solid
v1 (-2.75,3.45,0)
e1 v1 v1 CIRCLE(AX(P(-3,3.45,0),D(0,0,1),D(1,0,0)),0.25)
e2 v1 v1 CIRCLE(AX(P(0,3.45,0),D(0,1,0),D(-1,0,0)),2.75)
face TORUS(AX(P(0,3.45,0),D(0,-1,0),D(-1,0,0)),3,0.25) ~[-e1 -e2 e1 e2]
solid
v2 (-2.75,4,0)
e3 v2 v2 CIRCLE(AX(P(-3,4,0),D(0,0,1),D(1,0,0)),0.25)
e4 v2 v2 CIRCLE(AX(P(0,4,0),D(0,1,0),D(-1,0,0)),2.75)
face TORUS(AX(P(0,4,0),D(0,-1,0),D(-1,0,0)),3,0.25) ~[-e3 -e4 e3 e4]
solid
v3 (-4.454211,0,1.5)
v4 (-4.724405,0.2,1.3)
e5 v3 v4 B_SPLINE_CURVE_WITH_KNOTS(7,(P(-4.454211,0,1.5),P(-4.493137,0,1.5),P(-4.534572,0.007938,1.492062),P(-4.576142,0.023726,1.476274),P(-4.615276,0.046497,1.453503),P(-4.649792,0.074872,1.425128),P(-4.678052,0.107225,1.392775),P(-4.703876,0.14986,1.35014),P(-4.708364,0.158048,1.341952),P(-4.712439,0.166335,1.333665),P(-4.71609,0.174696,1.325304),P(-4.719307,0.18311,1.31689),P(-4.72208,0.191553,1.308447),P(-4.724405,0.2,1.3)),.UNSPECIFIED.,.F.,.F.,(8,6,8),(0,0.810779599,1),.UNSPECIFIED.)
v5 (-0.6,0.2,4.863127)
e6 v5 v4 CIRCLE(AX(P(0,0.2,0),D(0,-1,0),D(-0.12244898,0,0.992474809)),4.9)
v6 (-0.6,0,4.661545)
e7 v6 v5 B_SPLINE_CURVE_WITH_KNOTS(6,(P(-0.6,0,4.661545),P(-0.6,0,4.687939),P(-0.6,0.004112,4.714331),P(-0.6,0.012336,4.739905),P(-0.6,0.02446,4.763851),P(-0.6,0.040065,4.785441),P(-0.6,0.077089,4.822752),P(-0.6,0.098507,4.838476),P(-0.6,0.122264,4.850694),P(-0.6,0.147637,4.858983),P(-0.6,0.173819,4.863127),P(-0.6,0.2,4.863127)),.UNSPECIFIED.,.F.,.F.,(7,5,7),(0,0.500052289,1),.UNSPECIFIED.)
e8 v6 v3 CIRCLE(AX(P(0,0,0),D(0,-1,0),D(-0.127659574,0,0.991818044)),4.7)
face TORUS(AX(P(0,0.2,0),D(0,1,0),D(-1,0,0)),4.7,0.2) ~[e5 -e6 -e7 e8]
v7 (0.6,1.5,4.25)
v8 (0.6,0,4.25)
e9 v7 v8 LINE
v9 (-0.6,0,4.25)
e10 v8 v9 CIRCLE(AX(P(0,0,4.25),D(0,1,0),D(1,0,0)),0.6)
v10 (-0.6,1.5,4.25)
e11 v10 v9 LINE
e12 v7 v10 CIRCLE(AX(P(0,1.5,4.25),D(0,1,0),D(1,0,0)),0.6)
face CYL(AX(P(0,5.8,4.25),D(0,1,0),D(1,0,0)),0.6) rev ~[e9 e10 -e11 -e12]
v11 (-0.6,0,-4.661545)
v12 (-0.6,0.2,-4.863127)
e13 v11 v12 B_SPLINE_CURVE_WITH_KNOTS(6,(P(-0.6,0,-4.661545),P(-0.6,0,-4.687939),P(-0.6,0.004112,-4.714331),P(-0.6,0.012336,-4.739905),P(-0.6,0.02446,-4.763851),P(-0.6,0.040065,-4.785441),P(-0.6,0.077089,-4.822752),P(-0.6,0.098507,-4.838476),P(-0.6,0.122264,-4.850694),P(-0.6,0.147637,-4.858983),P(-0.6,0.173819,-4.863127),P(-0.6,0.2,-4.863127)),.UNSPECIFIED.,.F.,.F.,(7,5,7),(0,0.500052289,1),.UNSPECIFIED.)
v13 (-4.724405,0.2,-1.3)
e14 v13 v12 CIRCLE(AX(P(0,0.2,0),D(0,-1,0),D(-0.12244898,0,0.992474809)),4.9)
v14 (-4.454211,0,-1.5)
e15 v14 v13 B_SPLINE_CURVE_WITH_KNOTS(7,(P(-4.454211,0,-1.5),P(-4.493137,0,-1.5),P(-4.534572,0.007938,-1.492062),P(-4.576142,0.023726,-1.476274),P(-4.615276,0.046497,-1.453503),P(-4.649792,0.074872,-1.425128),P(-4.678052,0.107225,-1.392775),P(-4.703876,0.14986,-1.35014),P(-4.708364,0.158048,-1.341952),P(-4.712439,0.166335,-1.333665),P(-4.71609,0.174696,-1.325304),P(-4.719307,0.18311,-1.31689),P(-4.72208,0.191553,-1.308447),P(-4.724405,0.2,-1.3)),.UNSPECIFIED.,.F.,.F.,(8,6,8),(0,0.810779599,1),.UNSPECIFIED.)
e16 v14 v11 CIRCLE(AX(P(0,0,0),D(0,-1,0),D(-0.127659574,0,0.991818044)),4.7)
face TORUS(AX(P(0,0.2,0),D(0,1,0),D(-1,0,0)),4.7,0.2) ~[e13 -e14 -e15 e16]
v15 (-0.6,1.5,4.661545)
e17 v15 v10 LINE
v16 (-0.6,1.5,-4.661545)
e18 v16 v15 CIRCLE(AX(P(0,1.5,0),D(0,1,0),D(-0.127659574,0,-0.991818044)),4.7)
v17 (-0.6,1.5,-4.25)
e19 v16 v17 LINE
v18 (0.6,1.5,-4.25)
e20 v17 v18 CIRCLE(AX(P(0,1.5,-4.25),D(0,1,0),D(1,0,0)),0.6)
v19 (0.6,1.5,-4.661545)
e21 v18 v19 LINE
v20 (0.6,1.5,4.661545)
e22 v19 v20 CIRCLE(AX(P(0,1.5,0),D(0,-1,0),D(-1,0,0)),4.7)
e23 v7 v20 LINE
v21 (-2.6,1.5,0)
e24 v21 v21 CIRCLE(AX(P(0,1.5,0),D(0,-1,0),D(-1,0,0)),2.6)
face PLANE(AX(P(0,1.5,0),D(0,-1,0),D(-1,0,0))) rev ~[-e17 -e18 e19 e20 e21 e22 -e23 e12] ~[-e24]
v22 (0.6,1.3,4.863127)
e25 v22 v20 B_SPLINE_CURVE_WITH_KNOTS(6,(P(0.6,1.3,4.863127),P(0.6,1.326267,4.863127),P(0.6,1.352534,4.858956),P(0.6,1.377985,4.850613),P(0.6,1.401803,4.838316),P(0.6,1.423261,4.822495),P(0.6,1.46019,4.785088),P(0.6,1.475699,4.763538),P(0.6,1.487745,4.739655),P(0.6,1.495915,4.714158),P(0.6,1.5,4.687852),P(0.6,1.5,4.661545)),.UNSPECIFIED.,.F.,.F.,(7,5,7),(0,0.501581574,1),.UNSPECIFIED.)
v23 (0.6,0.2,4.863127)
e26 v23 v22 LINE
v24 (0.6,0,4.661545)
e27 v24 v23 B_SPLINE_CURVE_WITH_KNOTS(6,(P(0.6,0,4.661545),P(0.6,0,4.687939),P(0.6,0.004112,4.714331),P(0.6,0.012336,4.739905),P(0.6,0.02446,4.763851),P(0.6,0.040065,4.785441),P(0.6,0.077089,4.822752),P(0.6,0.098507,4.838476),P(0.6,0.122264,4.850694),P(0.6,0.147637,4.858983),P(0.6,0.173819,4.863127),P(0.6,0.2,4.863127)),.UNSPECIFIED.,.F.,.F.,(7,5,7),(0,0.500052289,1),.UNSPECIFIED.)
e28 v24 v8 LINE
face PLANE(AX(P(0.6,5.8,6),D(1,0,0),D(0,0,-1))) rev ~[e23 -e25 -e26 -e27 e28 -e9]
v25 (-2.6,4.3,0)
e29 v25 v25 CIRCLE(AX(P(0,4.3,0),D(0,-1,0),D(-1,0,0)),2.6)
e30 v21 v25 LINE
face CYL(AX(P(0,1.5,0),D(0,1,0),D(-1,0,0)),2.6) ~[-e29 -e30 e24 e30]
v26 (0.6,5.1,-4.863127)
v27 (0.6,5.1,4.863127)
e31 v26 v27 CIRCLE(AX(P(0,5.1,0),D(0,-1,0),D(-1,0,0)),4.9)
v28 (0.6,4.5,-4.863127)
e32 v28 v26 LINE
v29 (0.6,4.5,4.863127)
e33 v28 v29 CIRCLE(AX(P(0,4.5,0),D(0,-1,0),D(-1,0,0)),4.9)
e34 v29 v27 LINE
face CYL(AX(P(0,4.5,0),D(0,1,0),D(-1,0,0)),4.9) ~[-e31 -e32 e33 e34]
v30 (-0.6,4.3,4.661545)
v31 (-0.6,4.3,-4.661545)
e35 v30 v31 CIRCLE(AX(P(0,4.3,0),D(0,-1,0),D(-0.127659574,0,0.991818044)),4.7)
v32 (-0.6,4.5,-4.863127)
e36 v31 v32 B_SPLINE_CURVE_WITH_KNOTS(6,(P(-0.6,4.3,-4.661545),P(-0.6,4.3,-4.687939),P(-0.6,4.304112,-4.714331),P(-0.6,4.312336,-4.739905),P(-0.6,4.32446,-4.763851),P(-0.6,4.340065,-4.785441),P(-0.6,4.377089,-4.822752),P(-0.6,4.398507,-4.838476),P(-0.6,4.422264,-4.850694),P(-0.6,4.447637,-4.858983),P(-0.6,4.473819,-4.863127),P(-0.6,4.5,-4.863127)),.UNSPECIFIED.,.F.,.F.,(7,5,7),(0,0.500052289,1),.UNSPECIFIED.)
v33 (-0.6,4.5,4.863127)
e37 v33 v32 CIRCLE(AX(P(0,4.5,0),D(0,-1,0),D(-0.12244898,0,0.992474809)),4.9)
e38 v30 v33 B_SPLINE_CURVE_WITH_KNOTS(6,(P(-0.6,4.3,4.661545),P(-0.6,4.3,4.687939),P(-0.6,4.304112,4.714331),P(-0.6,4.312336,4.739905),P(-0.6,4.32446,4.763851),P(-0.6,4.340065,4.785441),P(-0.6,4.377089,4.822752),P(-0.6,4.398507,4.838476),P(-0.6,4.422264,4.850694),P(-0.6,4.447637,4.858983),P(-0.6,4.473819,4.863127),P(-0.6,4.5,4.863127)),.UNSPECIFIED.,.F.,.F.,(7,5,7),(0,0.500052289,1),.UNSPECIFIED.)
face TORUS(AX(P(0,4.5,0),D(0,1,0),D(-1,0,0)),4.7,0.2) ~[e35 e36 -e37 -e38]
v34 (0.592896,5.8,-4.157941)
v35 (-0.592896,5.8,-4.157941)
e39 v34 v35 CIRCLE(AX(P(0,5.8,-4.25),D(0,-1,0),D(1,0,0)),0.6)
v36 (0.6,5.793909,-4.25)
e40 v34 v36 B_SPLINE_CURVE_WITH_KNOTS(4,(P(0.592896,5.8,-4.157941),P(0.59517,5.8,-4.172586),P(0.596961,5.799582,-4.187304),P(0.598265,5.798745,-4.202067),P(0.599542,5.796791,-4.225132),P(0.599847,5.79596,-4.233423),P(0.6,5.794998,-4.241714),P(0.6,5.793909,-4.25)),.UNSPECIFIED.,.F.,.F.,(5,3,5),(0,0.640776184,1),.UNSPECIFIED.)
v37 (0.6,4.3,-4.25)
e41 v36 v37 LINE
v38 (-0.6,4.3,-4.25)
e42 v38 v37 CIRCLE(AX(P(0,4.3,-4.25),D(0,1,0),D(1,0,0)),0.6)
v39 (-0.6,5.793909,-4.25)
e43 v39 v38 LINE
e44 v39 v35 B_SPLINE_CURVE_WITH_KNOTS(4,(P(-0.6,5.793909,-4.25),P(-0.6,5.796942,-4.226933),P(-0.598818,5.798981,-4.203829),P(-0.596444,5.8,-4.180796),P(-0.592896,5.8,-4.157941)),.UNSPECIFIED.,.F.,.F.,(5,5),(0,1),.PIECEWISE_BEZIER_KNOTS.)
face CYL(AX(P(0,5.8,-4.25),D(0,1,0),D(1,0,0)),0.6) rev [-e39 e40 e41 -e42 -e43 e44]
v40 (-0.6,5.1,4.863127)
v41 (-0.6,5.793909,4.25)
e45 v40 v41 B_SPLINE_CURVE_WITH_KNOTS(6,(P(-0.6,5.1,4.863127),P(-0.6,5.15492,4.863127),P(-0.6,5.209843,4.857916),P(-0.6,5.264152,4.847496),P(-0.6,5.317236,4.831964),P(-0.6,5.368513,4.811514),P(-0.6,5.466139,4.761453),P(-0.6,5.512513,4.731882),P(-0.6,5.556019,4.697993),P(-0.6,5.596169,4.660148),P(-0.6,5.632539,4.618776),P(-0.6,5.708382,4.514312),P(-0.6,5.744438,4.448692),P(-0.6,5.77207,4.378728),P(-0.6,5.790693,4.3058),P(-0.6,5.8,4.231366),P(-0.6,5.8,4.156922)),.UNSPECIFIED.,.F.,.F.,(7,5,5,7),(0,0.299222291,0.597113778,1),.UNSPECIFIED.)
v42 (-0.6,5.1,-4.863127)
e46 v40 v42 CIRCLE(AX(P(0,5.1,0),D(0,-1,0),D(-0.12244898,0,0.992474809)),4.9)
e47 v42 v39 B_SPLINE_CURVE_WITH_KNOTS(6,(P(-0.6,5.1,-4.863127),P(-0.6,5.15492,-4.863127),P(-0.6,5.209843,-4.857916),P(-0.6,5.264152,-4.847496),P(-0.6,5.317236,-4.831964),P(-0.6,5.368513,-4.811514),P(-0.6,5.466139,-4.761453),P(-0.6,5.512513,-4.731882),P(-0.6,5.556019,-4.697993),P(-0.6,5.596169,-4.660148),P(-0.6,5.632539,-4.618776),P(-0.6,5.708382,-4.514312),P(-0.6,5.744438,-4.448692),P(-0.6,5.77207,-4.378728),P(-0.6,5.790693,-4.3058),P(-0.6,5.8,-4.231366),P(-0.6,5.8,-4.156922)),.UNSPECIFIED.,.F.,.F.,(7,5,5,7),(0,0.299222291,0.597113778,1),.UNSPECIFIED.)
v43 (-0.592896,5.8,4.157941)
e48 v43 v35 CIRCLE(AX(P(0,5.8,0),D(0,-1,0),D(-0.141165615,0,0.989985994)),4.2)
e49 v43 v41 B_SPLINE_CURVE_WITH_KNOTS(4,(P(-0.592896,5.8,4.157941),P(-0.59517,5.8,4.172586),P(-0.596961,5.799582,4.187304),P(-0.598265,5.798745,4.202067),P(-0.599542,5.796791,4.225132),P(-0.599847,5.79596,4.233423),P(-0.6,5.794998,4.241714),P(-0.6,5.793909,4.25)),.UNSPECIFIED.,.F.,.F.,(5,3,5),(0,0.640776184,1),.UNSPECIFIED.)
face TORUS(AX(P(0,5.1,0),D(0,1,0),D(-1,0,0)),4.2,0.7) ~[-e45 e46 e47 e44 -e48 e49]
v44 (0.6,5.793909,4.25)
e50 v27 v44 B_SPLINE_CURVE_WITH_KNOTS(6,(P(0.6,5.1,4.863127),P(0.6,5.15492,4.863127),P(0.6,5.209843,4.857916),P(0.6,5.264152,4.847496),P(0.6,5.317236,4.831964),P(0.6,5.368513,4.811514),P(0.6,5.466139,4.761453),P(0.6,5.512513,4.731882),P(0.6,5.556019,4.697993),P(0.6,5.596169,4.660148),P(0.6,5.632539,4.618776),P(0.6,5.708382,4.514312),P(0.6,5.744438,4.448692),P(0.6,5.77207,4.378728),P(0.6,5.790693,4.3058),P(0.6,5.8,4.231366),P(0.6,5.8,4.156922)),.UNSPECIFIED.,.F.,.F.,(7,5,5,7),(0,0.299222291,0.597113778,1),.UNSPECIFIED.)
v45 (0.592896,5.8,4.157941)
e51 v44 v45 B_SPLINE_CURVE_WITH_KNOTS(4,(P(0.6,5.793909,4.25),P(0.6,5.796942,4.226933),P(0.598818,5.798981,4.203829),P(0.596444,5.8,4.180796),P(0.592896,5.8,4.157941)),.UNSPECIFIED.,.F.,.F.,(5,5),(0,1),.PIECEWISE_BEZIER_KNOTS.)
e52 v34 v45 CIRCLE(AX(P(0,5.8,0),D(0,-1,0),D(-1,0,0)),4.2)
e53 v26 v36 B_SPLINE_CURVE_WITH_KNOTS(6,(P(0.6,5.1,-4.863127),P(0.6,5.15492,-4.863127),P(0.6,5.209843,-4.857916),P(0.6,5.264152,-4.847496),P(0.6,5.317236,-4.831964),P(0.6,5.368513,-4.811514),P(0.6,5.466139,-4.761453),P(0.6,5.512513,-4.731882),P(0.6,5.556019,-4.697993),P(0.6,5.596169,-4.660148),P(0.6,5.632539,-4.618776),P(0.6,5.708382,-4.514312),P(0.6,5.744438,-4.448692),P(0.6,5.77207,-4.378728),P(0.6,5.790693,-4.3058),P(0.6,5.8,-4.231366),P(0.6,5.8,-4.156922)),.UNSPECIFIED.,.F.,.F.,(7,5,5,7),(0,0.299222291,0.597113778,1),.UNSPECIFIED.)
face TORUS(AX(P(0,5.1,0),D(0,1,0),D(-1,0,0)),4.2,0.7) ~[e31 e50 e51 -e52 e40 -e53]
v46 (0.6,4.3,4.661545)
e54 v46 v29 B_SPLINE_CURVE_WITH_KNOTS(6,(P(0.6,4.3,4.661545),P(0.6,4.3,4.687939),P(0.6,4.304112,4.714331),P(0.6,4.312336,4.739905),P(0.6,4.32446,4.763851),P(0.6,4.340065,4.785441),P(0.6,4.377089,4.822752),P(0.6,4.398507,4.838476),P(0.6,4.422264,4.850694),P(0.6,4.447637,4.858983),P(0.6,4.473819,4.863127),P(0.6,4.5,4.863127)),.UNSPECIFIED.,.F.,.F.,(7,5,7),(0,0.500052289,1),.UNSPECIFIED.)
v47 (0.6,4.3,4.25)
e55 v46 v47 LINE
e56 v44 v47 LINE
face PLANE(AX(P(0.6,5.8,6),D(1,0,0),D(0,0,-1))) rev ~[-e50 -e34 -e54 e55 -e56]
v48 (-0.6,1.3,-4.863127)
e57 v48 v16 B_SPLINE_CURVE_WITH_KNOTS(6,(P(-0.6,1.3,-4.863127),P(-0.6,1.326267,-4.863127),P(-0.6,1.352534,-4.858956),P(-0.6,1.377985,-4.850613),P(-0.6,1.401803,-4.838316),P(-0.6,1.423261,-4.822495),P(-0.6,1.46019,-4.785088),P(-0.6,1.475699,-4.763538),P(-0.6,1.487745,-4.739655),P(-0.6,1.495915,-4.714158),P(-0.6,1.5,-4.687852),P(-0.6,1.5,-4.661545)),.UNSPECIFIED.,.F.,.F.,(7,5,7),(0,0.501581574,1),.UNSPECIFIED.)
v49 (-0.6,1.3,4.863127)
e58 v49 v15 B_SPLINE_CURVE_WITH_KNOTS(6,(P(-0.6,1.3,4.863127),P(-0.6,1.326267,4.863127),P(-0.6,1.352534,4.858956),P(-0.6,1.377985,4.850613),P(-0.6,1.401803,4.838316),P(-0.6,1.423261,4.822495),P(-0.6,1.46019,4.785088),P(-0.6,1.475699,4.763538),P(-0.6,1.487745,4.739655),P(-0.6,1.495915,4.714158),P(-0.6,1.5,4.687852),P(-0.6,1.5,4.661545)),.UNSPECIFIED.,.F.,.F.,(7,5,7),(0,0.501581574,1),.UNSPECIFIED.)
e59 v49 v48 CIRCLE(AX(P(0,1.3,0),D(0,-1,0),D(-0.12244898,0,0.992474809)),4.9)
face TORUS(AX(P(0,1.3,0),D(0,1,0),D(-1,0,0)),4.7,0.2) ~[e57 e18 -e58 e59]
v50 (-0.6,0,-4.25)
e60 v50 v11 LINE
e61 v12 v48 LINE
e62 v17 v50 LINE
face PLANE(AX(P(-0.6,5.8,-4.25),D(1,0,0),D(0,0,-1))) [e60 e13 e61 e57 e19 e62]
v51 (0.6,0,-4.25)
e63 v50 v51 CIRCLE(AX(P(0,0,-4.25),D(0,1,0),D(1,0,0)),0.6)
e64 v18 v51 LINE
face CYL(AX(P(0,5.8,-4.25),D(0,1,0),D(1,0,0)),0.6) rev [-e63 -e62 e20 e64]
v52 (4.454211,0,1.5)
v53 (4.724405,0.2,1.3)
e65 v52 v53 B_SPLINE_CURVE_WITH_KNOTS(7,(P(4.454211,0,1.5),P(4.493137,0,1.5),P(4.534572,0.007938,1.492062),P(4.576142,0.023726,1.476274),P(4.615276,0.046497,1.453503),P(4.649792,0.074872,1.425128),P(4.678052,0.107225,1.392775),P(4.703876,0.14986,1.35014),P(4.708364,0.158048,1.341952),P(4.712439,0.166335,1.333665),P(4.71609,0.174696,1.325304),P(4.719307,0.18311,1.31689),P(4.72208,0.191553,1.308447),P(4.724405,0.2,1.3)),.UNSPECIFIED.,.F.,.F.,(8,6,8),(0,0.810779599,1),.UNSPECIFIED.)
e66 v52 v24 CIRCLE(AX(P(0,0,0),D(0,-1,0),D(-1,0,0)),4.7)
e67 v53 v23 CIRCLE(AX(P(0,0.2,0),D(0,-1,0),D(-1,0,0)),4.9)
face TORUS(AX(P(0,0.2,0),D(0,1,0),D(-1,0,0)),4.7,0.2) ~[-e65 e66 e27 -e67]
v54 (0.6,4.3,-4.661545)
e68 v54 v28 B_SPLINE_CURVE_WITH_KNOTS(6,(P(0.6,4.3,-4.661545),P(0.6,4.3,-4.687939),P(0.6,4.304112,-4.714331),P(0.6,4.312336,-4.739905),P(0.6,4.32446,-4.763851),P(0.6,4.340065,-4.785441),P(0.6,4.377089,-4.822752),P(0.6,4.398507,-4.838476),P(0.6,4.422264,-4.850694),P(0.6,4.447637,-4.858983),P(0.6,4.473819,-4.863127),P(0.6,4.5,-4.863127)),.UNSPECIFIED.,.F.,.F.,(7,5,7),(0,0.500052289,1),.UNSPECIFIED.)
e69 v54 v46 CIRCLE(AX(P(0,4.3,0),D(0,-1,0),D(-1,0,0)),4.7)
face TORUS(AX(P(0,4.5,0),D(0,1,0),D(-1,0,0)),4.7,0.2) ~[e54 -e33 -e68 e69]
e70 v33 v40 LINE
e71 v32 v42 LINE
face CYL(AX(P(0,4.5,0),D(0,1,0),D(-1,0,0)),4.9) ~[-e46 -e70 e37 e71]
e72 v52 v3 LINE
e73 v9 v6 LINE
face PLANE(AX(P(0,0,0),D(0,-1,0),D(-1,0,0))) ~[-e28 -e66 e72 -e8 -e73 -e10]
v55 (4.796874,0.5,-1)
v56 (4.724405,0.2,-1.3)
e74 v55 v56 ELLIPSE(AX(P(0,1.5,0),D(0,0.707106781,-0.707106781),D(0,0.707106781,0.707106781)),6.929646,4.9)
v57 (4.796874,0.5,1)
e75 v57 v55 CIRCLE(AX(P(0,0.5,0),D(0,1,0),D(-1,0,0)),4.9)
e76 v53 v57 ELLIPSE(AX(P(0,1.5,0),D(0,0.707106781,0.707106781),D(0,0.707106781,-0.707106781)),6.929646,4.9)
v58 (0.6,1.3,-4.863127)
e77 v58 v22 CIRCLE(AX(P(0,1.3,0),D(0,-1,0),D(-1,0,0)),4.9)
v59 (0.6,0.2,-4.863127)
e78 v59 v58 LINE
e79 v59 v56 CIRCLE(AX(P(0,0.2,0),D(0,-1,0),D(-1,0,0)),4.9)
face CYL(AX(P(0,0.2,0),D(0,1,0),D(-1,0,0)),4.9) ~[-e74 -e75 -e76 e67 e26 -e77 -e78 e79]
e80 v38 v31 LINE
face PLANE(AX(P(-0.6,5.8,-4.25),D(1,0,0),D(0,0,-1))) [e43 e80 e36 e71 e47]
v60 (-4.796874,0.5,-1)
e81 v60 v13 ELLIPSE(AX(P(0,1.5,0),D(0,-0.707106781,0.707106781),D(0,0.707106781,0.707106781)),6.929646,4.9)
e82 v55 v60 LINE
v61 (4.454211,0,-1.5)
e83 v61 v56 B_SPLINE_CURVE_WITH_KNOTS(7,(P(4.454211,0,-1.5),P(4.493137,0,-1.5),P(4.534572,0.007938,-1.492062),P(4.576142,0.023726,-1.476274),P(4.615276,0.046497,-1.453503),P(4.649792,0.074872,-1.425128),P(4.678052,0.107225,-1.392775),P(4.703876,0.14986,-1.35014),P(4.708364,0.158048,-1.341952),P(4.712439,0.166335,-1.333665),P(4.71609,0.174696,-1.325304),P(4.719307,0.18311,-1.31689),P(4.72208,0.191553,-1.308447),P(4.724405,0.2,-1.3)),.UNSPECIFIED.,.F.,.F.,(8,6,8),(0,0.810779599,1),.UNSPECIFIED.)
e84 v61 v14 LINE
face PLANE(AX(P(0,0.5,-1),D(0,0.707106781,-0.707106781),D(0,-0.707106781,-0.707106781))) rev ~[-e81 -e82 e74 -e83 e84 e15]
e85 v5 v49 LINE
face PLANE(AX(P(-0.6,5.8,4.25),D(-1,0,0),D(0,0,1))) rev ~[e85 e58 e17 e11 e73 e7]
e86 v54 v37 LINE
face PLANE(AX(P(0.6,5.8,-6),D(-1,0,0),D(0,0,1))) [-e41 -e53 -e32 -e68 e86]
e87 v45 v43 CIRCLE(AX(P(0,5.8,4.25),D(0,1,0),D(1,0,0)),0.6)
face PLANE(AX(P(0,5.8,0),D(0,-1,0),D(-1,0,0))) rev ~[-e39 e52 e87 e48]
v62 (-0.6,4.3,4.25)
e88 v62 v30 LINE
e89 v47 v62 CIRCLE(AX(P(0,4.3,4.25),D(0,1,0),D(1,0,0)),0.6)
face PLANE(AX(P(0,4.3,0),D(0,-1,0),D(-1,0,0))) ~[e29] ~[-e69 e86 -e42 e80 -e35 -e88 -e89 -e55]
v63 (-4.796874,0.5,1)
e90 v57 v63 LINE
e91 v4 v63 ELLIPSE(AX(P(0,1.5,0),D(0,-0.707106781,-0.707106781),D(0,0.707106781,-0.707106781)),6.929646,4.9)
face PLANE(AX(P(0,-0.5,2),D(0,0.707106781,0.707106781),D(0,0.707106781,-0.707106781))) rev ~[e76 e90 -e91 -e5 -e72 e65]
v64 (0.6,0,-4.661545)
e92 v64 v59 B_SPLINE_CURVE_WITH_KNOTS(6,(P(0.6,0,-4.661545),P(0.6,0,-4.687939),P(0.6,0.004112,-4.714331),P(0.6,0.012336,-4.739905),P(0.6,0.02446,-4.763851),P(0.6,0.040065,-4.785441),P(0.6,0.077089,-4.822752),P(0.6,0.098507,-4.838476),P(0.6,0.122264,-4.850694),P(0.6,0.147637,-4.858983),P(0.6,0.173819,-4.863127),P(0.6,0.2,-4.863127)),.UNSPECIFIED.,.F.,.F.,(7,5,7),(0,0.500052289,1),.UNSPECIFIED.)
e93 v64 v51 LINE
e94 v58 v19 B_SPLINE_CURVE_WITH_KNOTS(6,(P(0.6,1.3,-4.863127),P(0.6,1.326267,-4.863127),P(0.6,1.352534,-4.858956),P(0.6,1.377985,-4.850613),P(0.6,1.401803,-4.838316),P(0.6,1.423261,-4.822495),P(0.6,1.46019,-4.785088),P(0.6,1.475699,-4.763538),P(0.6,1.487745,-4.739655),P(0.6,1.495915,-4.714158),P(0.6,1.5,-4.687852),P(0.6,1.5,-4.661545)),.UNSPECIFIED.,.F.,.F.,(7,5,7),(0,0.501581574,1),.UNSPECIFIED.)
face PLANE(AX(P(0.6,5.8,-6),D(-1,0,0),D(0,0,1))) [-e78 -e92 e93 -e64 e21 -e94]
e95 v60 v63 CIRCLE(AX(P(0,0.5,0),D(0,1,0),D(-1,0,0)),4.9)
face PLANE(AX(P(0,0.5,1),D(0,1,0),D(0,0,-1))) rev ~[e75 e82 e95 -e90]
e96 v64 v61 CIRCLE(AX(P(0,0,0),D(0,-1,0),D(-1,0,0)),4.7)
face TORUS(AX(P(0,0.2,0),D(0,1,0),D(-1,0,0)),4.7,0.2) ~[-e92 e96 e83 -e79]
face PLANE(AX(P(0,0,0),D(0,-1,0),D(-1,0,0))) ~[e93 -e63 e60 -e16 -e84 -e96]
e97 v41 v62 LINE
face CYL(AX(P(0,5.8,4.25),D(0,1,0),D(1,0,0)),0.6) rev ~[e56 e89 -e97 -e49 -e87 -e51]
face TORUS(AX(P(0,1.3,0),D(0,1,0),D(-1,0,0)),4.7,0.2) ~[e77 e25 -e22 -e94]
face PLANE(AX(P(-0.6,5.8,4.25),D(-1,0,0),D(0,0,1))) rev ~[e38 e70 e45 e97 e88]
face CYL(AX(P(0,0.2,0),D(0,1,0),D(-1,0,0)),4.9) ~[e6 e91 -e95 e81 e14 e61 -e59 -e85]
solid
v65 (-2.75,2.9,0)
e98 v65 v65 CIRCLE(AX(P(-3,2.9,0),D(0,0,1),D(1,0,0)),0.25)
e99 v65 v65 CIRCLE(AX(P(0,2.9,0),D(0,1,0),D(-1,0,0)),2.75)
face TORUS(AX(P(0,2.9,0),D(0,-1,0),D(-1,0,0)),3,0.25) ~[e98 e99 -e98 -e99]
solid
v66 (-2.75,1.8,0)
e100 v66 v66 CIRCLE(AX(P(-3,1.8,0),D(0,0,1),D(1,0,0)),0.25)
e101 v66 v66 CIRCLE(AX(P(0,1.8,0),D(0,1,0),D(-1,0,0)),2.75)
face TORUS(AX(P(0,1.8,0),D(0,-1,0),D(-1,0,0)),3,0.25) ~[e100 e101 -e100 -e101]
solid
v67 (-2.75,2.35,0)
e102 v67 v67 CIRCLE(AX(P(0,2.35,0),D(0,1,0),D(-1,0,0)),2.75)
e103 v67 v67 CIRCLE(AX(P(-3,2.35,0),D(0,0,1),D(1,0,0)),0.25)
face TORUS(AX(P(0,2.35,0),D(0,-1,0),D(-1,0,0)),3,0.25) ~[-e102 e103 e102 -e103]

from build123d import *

# Parameters (mm, degrees)
CUT_EXTRUDE1_DEPTH      = 6.8
SKETCH3_R               = 0.25
CUT_EXTRUDE2_DEPTH      = 5.9000001
CUT_EXTRUDE2_DEPTH_BACK = 12


with BuildPart() as part:
    # Sketch1 → Revolve1 (revolve)
    with BuildSketch(Plane.XY):
        with BuildLine():
            Line((0, 0), (-4.7, 0))
            ThreePointArc((-4.7, 0), (-4.841421356, 0.058578644), (-4.9, 0.2))
            Line((-4.9, 0.2), (-4.9, 1.3))
            ThreePointArc((-4.9, 1.3), (-4.841421356, 1.441421356), (-4.7, 1.5))
            Line((-4.7, 1.5), (-2.6, 1.5))
            Line((-2.6, 1.5), (-2.6, 4.3))
            Line((-2.6, 4.3), (-4.7, 4.3))
            ThreePointArc((-4.7, 4.3), (-4.841421356, 4.358578644), (-4.9, 4.5))
            Line((-4.9, 4.5), (-4.9, 5.1))
            ThreePointArc((-4.9, 5.1), (-4.694974747, 5.594974747), (-4.2, 5.8))
            Line((-4.2, 5.8), (0, 5.8))
            Line((0, 5.8), (0, 0))
        make_face()
    revolve(axis=Axis((0, 5.8, 0), (0, -1, 0)))

    # Sketch2 → Cut-Extrude1 (cut, through all)
    with BuildSketch(Plane(origin=(0, 5.8, 0), x_dir=(1, 0, 0), z_dir=(0, 1, 0))):
        with BuildLine():
            Line((-0.6, 6), (0.6, 6))
            Line((0.6, 6), (0.6, 4.25))
            ThreePointArc((0.6, 4.25), (0, 3.65), (-0.6, 4.25))
            Line((-0.6, 4.25), (-0.6, 6))
        make_face()
        with BuildLine():
            Line((-0.6, -6), (0.6, -6))
            Line((0.6, -6), (0.6, -4.25))
            ThreePointArc((0.6, -4.25), (0, -3.65), (-0.6, -4.25))
            Line((-0.6, -4.25), (-0.6, -6))
        make_face()
    extrude(amount=-CUT_EXTRUDE1_DEPTH, mode=Mode.SUBTRACT)

    # Sketch4 → Cut-Extrude2 (cut, two sides)
    with BuildSketch(Plane(origin=(0, 0, 0), x_dir=(0, 0, -1), z_dir=(1, 0, 0))) as cut_extrude2_sk:
        Polygon((-2, -0.5), (-1, 0.5), (1, 0.5), (2, -0.5), align=None)
    extrude(amount=CUT_EXTRUDE2_DEPTH, mode=Mode.SUBTRACT)
    extrude(cut_extrude2_sk.sketch, amount=-CUT_EXTRUDE2_DEPTH_BACK, mode=Mode.SUBTRACT)


with BuildPart() as body_2:
    # Sketch3 → Revolve2 (revolve)
    with BuildSketch(Plane.XY):
        with Locations((-3, 4)):
            Circle(SKETCH3_R)
        with Locations((-3, 3.45)):
            Circle(SKETCH3_R)
        with Locations((-3, 2.9)):
            Circle(SKETCH3_R)
        with Locations((-3, 2.35)):
            Circle(SKETCH3_R)
        with Locations((-3, 1.8)):
            Circle(SKETCH3_R)
    revolve(axis=Axis((0, 0, 0), (0, 1, 0)))


solid = Compound([part.part, body_2.part])
